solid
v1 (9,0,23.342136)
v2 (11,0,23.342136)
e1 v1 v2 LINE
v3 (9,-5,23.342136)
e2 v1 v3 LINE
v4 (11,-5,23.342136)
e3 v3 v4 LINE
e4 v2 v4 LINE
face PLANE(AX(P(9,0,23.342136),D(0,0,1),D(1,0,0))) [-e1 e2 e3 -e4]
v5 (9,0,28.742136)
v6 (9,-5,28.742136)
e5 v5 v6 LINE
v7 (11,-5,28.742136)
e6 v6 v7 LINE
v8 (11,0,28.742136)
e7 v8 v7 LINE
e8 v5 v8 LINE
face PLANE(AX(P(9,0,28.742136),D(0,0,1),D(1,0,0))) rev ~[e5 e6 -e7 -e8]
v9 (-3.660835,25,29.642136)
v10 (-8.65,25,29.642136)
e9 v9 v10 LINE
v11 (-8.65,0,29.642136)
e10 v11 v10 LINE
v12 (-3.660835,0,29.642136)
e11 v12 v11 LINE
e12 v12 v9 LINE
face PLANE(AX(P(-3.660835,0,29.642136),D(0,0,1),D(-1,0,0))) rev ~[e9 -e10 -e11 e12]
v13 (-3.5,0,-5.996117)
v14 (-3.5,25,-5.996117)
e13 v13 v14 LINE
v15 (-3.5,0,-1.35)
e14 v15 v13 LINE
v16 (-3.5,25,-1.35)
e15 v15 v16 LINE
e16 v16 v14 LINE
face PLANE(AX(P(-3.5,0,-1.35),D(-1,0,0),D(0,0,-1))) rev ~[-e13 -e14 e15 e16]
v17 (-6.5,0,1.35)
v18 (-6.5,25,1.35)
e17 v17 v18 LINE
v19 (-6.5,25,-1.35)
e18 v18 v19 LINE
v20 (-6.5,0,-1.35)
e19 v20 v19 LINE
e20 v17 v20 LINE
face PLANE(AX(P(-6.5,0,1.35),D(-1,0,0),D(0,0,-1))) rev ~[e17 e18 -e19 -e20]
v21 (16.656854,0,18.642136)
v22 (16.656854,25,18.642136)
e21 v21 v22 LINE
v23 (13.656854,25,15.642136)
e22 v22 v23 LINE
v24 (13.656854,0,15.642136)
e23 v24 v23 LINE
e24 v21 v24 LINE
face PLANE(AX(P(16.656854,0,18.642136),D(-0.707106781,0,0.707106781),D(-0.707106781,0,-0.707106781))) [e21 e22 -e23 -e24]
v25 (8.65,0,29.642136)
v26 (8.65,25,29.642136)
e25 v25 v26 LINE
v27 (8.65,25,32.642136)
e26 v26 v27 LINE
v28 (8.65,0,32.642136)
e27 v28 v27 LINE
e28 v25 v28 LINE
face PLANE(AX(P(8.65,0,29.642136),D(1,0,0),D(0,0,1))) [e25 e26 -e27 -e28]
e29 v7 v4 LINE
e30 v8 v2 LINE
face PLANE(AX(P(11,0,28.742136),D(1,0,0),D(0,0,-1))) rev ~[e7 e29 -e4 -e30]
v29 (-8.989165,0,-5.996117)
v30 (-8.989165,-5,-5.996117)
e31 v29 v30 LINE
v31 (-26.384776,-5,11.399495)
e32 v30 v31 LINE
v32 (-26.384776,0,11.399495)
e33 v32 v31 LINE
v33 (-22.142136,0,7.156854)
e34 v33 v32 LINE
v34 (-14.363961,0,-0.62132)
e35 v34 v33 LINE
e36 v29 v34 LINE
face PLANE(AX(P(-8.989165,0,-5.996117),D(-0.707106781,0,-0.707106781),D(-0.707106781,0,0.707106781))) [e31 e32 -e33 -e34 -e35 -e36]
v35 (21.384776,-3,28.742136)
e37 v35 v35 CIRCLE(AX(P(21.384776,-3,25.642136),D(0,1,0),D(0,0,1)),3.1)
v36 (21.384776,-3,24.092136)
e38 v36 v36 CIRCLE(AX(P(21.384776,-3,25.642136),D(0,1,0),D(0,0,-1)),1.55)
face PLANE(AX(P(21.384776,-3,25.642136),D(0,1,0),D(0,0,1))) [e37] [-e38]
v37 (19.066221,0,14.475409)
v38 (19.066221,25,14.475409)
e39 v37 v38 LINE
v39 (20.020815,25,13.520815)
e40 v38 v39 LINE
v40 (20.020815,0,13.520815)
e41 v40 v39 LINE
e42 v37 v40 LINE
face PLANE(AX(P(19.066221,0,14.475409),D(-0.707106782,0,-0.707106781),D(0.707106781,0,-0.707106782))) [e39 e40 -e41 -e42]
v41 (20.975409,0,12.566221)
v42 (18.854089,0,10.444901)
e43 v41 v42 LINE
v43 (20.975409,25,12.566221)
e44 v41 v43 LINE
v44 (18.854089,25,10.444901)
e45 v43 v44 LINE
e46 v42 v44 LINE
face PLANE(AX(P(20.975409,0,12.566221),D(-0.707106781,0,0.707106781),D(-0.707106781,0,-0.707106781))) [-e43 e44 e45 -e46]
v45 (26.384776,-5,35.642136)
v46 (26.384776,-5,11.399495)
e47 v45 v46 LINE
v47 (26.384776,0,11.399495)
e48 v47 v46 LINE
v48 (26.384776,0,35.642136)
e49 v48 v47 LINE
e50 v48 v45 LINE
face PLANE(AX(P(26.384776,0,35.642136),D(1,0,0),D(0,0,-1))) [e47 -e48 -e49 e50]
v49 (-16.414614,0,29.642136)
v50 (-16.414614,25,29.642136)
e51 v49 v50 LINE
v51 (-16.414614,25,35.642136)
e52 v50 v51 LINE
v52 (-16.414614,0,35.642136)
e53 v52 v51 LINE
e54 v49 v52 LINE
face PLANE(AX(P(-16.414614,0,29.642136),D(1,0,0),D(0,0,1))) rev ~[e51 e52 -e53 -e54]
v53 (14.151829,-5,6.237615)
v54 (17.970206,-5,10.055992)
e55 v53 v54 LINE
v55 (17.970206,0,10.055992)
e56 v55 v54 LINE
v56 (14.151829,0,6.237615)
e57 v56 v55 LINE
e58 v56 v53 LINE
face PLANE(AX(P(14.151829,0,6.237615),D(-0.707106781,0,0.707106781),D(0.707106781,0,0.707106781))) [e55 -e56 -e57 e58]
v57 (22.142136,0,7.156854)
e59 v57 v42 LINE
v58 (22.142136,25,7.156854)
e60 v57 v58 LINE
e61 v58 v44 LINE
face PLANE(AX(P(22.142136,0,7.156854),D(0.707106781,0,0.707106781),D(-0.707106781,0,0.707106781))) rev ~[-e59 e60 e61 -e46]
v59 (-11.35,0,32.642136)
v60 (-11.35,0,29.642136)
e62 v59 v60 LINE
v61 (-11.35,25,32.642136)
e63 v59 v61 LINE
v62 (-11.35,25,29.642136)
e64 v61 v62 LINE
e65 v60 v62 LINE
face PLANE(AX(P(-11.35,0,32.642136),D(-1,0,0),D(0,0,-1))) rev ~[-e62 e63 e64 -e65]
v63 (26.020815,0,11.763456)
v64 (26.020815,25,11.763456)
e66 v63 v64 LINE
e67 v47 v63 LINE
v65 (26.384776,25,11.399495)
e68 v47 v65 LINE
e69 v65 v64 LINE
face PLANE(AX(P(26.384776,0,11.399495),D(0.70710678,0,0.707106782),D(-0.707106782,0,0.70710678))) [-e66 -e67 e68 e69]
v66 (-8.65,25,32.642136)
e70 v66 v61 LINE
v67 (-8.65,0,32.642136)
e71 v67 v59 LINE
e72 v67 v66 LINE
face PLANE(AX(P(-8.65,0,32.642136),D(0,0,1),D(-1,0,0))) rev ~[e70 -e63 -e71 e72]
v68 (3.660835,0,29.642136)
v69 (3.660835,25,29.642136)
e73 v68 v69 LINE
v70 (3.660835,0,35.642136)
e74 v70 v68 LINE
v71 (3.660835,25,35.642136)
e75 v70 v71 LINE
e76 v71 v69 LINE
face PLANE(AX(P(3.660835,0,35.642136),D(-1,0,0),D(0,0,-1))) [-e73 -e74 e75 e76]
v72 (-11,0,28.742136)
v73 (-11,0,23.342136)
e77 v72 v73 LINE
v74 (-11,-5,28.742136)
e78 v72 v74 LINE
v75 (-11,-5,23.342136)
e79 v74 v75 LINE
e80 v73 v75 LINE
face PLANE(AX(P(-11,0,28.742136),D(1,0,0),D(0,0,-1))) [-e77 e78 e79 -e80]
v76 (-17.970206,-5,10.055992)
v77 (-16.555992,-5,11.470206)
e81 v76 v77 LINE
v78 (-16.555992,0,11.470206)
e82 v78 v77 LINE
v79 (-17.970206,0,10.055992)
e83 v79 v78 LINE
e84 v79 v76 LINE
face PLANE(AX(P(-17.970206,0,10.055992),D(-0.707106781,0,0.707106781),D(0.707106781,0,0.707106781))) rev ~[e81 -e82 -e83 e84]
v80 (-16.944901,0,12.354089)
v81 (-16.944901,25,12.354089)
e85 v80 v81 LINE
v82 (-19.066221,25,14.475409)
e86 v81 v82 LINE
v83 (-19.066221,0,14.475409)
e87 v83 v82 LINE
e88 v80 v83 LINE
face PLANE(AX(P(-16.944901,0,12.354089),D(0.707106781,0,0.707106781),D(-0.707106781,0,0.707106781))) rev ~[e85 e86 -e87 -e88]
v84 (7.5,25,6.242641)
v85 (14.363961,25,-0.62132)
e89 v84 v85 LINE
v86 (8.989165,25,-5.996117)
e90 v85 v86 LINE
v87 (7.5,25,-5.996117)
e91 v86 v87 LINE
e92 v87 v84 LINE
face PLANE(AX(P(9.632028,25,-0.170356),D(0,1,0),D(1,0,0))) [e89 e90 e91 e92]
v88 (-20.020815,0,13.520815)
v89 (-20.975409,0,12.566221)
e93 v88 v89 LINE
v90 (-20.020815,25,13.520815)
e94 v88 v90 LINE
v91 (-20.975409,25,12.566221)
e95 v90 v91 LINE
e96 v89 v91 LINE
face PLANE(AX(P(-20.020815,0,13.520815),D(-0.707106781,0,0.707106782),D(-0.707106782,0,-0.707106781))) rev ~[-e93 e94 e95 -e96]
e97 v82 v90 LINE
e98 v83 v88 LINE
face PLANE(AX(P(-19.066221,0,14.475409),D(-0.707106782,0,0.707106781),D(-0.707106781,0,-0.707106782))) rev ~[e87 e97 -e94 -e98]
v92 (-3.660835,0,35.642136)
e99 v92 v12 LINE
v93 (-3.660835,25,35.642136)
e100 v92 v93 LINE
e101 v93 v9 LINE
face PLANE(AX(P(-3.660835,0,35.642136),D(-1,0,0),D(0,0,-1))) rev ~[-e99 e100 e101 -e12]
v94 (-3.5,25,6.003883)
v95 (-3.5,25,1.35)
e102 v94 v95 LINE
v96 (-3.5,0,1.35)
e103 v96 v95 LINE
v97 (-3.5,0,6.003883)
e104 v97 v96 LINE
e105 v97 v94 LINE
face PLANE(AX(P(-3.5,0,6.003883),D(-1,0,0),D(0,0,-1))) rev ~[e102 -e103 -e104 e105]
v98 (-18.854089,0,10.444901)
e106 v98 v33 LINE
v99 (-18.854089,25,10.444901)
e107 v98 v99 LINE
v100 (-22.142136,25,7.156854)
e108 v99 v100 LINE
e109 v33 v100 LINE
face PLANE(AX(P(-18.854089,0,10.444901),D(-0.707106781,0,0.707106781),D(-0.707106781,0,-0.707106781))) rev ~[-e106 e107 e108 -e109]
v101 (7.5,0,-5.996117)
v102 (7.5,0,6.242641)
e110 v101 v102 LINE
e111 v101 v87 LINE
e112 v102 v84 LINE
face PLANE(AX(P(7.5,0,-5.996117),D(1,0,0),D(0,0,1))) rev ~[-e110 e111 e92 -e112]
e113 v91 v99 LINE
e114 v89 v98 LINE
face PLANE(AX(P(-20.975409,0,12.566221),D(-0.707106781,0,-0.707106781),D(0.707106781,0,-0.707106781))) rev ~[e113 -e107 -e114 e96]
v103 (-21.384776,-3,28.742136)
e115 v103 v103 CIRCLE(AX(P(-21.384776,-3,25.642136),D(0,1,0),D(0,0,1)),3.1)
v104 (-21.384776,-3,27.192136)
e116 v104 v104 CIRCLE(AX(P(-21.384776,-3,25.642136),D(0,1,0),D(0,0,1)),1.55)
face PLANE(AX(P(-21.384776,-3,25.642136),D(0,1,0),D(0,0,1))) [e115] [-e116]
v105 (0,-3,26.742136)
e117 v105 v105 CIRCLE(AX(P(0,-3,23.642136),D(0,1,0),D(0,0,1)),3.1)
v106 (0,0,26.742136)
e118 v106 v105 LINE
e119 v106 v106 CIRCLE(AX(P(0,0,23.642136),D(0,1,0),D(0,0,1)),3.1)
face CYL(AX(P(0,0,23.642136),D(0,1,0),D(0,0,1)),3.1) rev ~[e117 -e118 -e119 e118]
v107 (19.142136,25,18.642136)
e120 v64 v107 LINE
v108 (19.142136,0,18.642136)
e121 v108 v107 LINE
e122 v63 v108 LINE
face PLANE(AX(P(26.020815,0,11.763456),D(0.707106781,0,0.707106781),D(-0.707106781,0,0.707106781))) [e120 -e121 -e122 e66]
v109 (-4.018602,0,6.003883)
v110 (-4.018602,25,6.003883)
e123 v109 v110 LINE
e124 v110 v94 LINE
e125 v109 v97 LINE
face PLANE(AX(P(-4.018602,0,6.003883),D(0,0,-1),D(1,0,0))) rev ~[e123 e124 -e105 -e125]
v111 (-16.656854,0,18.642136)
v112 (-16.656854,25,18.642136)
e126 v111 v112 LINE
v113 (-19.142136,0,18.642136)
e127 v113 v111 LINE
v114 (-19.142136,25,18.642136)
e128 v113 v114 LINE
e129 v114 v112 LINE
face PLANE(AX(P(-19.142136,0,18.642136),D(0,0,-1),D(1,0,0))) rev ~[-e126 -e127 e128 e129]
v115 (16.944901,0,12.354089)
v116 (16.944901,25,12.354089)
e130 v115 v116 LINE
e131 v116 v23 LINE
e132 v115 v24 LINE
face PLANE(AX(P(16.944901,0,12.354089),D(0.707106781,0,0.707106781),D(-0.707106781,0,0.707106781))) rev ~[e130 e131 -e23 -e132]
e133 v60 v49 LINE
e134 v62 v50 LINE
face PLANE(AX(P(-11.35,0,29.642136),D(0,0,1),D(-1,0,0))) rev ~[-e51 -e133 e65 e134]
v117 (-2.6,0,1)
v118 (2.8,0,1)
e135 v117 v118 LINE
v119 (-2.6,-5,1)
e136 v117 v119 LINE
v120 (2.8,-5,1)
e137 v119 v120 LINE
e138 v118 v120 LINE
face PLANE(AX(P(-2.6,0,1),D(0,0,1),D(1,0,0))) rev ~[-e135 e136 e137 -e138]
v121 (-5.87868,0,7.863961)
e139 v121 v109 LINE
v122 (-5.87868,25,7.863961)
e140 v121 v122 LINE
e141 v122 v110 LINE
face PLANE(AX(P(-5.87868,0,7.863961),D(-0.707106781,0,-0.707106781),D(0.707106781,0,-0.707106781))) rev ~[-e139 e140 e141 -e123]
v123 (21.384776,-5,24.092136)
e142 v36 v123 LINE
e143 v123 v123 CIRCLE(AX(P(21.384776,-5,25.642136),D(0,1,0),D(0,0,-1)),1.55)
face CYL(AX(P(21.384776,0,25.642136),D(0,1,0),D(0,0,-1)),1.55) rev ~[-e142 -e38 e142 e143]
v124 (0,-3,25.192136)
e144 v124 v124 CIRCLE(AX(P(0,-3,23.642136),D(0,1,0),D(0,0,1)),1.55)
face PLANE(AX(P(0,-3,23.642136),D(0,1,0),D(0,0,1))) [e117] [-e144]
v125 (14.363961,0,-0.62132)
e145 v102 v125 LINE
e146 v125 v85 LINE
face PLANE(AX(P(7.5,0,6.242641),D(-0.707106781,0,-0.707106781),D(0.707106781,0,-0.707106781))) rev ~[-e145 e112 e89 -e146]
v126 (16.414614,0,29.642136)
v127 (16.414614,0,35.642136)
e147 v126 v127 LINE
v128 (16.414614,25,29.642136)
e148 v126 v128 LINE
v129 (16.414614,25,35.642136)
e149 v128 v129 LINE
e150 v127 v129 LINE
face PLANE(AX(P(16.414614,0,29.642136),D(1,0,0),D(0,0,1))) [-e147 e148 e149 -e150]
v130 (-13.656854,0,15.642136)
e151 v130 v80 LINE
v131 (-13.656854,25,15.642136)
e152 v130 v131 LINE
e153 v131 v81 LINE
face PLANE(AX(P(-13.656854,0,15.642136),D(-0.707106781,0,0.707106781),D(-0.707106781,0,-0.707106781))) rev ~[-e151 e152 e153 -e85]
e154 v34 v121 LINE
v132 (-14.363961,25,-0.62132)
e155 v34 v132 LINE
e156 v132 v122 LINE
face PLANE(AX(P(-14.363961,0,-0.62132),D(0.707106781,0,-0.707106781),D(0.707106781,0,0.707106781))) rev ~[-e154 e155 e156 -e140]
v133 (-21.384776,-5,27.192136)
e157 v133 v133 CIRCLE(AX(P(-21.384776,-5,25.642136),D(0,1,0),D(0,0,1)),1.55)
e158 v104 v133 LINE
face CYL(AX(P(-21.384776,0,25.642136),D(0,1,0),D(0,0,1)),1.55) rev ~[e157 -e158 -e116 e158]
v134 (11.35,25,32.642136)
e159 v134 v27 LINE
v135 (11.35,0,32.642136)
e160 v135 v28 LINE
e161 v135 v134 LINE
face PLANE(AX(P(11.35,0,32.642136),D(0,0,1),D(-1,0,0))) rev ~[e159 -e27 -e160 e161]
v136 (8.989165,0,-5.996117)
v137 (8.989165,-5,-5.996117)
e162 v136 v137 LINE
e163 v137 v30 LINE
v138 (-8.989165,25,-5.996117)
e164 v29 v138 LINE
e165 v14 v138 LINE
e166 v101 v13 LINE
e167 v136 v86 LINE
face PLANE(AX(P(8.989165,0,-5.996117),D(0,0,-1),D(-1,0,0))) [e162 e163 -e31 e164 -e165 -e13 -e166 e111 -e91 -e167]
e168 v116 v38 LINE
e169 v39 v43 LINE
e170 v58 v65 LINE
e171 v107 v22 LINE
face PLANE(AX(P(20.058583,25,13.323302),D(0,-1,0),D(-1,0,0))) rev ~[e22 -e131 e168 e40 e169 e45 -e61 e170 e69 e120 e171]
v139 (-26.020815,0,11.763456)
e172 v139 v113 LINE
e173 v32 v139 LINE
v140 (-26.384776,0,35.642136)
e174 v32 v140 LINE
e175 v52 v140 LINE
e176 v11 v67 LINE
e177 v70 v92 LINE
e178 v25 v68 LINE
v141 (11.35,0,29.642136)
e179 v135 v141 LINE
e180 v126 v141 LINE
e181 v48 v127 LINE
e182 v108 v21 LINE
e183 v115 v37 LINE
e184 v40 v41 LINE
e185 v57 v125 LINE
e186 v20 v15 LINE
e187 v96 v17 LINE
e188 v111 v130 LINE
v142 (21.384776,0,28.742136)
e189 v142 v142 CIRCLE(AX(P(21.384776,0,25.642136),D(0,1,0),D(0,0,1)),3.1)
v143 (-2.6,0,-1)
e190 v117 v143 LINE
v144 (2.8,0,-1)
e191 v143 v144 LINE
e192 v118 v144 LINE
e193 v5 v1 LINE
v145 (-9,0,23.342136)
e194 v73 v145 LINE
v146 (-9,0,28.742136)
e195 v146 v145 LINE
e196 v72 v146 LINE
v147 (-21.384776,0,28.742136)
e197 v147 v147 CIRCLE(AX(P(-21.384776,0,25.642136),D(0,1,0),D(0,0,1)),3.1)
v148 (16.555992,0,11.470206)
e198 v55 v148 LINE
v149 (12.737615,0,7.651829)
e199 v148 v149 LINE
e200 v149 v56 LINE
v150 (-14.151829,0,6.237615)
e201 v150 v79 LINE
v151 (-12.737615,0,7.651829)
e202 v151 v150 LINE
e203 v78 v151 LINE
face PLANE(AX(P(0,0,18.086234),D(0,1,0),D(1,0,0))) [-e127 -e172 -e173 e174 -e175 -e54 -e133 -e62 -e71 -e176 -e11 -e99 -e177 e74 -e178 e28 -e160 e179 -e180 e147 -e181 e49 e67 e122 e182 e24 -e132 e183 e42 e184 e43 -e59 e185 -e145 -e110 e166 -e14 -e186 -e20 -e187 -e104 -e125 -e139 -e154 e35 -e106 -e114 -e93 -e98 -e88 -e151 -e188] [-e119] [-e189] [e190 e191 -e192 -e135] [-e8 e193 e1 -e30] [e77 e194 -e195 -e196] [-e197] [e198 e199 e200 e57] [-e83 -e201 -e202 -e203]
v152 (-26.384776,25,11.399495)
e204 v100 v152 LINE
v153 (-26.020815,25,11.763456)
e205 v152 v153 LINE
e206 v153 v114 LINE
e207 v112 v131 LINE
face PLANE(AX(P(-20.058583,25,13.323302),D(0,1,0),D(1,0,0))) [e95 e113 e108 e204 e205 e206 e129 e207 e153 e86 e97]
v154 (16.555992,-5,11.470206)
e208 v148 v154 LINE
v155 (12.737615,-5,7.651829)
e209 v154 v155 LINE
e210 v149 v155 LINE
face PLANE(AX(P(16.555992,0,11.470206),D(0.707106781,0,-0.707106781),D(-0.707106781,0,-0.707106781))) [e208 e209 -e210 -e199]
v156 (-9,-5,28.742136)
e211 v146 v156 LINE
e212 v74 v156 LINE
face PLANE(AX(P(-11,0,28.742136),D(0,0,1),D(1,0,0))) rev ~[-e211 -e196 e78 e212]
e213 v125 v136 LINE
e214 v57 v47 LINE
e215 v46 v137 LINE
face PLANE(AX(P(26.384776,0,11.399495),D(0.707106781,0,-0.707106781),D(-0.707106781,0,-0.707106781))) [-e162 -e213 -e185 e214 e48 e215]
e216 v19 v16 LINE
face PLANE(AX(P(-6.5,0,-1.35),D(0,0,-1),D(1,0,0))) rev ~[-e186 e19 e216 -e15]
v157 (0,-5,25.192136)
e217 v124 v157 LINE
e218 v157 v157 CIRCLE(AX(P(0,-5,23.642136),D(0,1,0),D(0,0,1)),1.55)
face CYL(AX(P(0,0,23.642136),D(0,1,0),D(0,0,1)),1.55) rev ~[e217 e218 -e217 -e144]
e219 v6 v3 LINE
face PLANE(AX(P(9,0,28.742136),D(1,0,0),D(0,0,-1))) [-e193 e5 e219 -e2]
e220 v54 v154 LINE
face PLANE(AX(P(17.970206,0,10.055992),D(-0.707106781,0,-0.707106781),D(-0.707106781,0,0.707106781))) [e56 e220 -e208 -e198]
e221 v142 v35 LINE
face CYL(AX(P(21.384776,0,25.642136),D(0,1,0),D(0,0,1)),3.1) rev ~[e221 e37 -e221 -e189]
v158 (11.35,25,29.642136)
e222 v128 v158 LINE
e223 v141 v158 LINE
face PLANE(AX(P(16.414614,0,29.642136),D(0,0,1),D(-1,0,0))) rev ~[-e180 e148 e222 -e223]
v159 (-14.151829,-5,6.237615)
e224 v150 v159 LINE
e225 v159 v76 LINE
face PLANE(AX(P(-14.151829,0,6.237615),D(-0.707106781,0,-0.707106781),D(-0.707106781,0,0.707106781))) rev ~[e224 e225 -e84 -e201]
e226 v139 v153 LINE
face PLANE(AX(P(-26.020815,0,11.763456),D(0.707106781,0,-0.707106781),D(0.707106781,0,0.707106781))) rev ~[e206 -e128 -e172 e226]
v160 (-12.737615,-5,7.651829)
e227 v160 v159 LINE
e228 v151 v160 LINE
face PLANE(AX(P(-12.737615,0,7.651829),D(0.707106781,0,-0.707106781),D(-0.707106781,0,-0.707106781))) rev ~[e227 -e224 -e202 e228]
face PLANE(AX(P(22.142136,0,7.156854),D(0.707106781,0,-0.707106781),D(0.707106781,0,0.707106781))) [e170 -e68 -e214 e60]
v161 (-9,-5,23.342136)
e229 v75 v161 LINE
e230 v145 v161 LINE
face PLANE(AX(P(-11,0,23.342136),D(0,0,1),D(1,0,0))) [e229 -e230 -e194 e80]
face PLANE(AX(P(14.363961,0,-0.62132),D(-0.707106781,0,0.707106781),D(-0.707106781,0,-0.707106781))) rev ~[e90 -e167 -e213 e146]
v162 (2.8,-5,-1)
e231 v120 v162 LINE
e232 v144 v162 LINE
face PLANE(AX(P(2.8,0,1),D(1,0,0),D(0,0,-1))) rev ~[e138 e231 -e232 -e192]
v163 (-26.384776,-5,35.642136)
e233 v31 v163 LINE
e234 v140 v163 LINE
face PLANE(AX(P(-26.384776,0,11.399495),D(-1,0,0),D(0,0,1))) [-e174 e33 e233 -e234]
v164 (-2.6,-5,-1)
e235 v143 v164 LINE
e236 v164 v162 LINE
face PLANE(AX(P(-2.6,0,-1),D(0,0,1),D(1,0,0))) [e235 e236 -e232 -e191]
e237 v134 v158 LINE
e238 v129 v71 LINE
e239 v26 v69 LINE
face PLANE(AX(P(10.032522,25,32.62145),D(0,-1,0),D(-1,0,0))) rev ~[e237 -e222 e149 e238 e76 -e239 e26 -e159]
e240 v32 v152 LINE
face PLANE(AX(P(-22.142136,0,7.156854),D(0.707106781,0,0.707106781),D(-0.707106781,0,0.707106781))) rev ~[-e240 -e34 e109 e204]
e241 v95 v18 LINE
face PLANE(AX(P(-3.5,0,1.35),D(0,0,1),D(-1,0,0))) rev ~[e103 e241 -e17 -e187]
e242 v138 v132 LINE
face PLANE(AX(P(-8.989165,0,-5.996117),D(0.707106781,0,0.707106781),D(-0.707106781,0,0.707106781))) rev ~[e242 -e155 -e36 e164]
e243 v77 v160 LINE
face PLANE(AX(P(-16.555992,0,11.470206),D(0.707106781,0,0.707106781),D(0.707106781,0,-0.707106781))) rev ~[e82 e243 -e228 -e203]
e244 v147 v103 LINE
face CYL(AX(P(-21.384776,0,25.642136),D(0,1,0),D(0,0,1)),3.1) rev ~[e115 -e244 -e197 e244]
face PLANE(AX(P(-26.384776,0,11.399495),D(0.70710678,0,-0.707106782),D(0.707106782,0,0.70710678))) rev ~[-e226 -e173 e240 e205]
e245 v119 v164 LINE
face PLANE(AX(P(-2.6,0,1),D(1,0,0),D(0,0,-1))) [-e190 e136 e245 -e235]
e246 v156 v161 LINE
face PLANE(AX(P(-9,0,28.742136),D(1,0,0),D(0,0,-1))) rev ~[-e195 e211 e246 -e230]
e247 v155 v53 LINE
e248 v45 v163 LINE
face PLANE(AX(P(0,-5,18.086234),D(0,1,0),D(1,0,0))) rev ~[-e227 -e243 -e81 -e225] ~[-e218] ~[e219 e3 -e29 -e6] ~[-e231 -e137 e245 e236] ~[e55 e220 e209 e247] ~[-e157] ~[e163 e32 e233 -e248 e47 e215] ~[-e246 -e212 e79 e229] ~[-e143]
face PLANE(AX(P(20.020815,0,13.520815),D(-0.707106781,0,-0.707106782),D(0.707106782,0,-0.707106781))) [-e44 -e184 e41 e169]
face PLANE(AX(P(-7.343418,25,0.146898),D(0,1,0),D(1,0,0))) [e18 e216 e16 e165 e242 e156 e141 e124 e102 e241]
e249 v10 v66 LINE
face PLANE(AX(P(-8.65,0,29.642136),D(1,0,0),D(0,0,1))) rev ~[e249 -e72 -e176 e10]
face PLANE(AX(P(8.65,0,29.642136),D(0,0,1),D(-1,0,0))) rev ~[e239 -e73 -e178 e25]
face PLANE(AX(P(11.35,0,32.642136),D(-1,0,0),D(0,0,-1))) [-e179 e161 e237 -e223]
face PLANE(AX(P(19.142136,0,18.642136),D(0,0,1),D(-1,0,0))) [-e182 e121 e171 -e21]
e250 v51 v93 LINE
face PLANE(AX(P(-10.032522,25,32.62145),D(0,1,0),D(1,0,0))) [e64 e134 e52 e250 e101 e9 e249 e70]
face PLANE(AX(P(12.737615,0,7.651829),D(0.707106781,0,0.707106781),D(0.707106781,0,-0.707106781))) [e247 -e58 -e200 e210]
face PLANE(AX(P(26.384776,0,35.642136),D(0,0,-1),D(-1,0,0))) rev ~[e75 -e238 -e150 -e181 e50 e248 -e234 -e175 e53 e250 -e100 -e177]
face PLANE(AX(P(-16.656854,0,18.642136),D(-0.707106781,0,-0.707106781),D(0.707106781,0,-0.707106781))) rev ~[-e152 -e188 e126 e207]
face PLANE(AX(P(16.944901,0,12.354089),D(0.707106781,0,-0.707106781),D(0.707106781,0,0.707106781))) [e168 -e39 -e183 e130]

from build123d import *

# Parameters (mm, degrees)
BOSS_EXTRUDE1_DEPTH   = 25
BOSS_EXTRUDE1_2_DEPTH = 25
BOSS_EXTRUDE1_3_DEPTH = 25
BOSS_EXTRUDE1_4_DEPTH = 25
BOSS_EXTRUDE1_5_DEPTH = 25
BOSS_EXTRUDE1_6_DEPTH = 25
BOSS_EXTRUDE2_DEPTH   = 5
SKETCH3_R             = 1.55
SKETCH3_W             = 5.4
SKETCH3_H             = 2
SKETCH3_W_2           = 2
SKETCH3_H_2           = 5.4
CUT_EXTRUDE1_DEPTH    = 5
SKETCH4_R             = 3.1
CUT_EXTRUDE2_DEPTH    = 3


with BuildPart() as part:
    # Sketch1 → Boss-Extrude1 (new body)
    with BuildSketch(Plane(origin=(0, 0, 0), x_dir=(1, 0, 0), z_dir=(0, 1, 0))):
        Polygon((-26.02081528, -11.763455967), (-19.142135624, -18.642135624), (-16.656854249, -18.642135624), (-13.656854249, -15.642135624), (-15.778174593, -13.52081528), (-16.944900782, -12.354089091), (-19.066221126, -14.475409435), (-20.02081528, -13.52081528), (-20.975409435, -12.566221126), (-18.854089091, -10.444900782), (-20.02081528, -9.278174593), (-22.142135624, -7.156854249), (-26.384776311, -11.399494937), align=None)
    extrude(amount=BOSS_EXTRUDE1_DEPTH)



with BuildPart() as body_2:
    # Sketch1 → Boss-Extrude1 2 (new body)
    with BuildSketch(Plane(origin=(0, 0, 0), x_dir=(1, 0, 0), z_dir=(0, 1, 0))):
        Polygon((-3.5, 3), (-3.5, 5.996116817), (-8.989164557, 5.996116817), (-14.363961031, 0.621320344), (-5.878679656, -7.863961031), (-4.018601808, -6.003883183), (-3.5, -6.003883183), (-3.5, -3), (-3.5, -1.35), (-6.5, -1.35), (-6.5, 1.35), (-3.5, 1.35), align=None)
    extrude(amount=BOSS_EXTRUDE1_2_DEPTH)


with BuildPart() as body_3:
    # Sketch1 → Boss-Extrude1 3 (new body)
    with BuildSketch(Plane(origin=(0, 0, 0), x_dir=(1, 0, 0), z_dir=(0, 1, 0))):
        Polygon((-10, -32.642135624), (-11.35, -32.642135624), (-11.35, -29.642135624), (-13.414613988, -29.642135624), (-16.414613988, -29.642135624), (-16.414613988, -35.642135624), (-3.660835443, -35.642135624), (-3.660835443, -29.642135624), (-6.660835443, -29.642135624), (-8.65, -29.642135624), (-8.65, -32.642135624), align=None)
    extrude(amount=BOSS_EXTRUDE1_3_DEPTH)


with BuildPart() as body_4:
    # Sketch1 → Boss-Extrude1 4 (new body)
    with BuildSketch(Plane(origin=(0, 0, 0), x_dir=(1, 0, 0), z_dir=(0, 1, 0))):
        Polygon((7.5, 5.996116817), (7.5, -6.242640687), (14.363961031, 0.621320344), (8.989164557, 5.996116817), align=None)
    extrude(amount=BOSS_EXTRUDE1_4_DEPTH)


with BuildPart() as body_5:
    # Sketch1 → Boss-Extrude1 5 (new body)
    with BuildSketch(Plane(origin=(0, 0, 0), x_dir=(1, 0, 0), z_dir=(0, 1, 0))):
        Polygon((16.944900782, -12.354089091), (19.066221126, -14.475409435), (20.02081528, -13.52081528), (20.975409435, -12.566221126), (18.854089091, -10.444900782), (20.02081528, -9.278174593), (22.142135624, -7.156854249), (26.384776311, -11.399494937), (26.02081528, -11.763455967), (19.142135624, -18.642135624), (16.656854249, -18.642135624), (13.656854249, -15.642135624), (15.778174593, -13.52081528), align=None)
    extrude(amount=BOSS_EXTRUDE1_5_DEPTH)


with BuildPart() as body_6:
    # Sketch1 → Boss-Extrude1 6 (new body)
    with BuildSketch(Plane(origin=(0, 0, 0), x_dir=(1, 0, 0), z_dir=(0, 1, 0))):
        Polygon((8.65, -29.642135624), (8.65, -32.642135624), (10, -32.642135624), (11.35, -32.642135624), (11.35, -29.642135624), (13.414613988, -29.642135624), (16.414613988, -29.642135624), (16.414613988, -35.642135624), (3.660835443, -35.642135624), (3.660835443, -29.642135624), (6.660835443, -29.642135624), align=None)
    extrude(amount=BOSS_EXTRUDE1_6_DEPTH)


with BuildPart() as part_1:
    add(part.part)

    add(body_2.part)  # Boss-Extrude2 merges body 2

    add(body_3.part)  # Boss-Extrude2 merges body 3

    add(body_4.part)  # Boss-Extrude2 merges body 4

    add(body_5.part)  # Boss-Extrude2 merges body 5

    add(body_6.part)  # Boss-Extrude2 merges body 6
    # Sketch2 → Boss-Extrude2 (add)
    with BuildSketch(Plane(origin=(0, 0, 0), x_dir=(-1, 0, 0), z_dir=(0, -1, 0))):
        Polygon((-26.384776311, -11.399494937), (-8.989164557, 5.996116817), (8.989164557, 5.996116817), (26.384776311, -11.399494937), (26.384776311, -35.642135624), (-16.414613988, -35.642135624), (-26.384776311, -35.642135624), align=None)
    extrude(amount=BOSS_EXTRUDE2_DEPTH)

    # Sketch3 → Cut-Extrude1 (cut)
    with BuildSketch(Plane(origin=(0, 0, 0), x_dir=(1, 0, 0), z_dir=(0, 1, 0))):
        with Locations(Location((-21.384776311, -25.642135624, 0), (0, 0, 270))):
            Circle(SKETCH3_R)
        with Locations(Location((0, -23.642135624, 0), (0, 0, 270))):
            Circle(SKETCH3_R)
        with Locations(Location((21.384776311, -25.642135624, 0), (0, 0, 90))):
            Circle(SKETCH3_R)
        with Locations((0.1, 0)):
            Rectangle(SKETCH3_W, SKETCH3_H)
        Polygon((-17.970205615, -10.055992052), (-16.555992052, -11.470205615), (-12.737615434, -7.651828996), (-14.151828996, -6.237615434), align=None)
        with Locations((10, -26.042135624)):
            Rectangle(SKETCH3_W_2, SKETCH3_H_2)
        with Locations((-10, -26.042135624)):
            Rectangle(SKETCH3_W_2, SKETCH3_H_2)
        Polygon((12.737615434, -7.651828996), (14.151828996, -6.237615434), (17.970205615, -10.055992052), (16.555992052, -11.470205615), align=None)
    extrude(amount=-CUT_EXTRUDE1_DEPTH, mode=Mode.SUBTRACT)

    # Sketch4 → Cut-Extrude2 (cut)
    with BuildSketch(Plane(origin=(0, 0, 0), x_dir=(1, 0, 0), z_dir=(0, 1, 0))):
        with Locations(Location((-21.384776311, -25.642135624, 0), (0, 0, 270))):
            Circle(SKETCH4_R)
        with Locations(Location((0, -23.642135624, 0), (0, 0, 270))):
            Circle(SKETCH4_R)
        with Locations(Location((21.384776311, -25.642135624, 0), (0, 0, 270))):
            Circle(SKETCH4_R)
    extrude(amount=-CUT_EXTRUDE2_DEPTH, mode=Mode.SUBTRACT)


solid = part_1.part
